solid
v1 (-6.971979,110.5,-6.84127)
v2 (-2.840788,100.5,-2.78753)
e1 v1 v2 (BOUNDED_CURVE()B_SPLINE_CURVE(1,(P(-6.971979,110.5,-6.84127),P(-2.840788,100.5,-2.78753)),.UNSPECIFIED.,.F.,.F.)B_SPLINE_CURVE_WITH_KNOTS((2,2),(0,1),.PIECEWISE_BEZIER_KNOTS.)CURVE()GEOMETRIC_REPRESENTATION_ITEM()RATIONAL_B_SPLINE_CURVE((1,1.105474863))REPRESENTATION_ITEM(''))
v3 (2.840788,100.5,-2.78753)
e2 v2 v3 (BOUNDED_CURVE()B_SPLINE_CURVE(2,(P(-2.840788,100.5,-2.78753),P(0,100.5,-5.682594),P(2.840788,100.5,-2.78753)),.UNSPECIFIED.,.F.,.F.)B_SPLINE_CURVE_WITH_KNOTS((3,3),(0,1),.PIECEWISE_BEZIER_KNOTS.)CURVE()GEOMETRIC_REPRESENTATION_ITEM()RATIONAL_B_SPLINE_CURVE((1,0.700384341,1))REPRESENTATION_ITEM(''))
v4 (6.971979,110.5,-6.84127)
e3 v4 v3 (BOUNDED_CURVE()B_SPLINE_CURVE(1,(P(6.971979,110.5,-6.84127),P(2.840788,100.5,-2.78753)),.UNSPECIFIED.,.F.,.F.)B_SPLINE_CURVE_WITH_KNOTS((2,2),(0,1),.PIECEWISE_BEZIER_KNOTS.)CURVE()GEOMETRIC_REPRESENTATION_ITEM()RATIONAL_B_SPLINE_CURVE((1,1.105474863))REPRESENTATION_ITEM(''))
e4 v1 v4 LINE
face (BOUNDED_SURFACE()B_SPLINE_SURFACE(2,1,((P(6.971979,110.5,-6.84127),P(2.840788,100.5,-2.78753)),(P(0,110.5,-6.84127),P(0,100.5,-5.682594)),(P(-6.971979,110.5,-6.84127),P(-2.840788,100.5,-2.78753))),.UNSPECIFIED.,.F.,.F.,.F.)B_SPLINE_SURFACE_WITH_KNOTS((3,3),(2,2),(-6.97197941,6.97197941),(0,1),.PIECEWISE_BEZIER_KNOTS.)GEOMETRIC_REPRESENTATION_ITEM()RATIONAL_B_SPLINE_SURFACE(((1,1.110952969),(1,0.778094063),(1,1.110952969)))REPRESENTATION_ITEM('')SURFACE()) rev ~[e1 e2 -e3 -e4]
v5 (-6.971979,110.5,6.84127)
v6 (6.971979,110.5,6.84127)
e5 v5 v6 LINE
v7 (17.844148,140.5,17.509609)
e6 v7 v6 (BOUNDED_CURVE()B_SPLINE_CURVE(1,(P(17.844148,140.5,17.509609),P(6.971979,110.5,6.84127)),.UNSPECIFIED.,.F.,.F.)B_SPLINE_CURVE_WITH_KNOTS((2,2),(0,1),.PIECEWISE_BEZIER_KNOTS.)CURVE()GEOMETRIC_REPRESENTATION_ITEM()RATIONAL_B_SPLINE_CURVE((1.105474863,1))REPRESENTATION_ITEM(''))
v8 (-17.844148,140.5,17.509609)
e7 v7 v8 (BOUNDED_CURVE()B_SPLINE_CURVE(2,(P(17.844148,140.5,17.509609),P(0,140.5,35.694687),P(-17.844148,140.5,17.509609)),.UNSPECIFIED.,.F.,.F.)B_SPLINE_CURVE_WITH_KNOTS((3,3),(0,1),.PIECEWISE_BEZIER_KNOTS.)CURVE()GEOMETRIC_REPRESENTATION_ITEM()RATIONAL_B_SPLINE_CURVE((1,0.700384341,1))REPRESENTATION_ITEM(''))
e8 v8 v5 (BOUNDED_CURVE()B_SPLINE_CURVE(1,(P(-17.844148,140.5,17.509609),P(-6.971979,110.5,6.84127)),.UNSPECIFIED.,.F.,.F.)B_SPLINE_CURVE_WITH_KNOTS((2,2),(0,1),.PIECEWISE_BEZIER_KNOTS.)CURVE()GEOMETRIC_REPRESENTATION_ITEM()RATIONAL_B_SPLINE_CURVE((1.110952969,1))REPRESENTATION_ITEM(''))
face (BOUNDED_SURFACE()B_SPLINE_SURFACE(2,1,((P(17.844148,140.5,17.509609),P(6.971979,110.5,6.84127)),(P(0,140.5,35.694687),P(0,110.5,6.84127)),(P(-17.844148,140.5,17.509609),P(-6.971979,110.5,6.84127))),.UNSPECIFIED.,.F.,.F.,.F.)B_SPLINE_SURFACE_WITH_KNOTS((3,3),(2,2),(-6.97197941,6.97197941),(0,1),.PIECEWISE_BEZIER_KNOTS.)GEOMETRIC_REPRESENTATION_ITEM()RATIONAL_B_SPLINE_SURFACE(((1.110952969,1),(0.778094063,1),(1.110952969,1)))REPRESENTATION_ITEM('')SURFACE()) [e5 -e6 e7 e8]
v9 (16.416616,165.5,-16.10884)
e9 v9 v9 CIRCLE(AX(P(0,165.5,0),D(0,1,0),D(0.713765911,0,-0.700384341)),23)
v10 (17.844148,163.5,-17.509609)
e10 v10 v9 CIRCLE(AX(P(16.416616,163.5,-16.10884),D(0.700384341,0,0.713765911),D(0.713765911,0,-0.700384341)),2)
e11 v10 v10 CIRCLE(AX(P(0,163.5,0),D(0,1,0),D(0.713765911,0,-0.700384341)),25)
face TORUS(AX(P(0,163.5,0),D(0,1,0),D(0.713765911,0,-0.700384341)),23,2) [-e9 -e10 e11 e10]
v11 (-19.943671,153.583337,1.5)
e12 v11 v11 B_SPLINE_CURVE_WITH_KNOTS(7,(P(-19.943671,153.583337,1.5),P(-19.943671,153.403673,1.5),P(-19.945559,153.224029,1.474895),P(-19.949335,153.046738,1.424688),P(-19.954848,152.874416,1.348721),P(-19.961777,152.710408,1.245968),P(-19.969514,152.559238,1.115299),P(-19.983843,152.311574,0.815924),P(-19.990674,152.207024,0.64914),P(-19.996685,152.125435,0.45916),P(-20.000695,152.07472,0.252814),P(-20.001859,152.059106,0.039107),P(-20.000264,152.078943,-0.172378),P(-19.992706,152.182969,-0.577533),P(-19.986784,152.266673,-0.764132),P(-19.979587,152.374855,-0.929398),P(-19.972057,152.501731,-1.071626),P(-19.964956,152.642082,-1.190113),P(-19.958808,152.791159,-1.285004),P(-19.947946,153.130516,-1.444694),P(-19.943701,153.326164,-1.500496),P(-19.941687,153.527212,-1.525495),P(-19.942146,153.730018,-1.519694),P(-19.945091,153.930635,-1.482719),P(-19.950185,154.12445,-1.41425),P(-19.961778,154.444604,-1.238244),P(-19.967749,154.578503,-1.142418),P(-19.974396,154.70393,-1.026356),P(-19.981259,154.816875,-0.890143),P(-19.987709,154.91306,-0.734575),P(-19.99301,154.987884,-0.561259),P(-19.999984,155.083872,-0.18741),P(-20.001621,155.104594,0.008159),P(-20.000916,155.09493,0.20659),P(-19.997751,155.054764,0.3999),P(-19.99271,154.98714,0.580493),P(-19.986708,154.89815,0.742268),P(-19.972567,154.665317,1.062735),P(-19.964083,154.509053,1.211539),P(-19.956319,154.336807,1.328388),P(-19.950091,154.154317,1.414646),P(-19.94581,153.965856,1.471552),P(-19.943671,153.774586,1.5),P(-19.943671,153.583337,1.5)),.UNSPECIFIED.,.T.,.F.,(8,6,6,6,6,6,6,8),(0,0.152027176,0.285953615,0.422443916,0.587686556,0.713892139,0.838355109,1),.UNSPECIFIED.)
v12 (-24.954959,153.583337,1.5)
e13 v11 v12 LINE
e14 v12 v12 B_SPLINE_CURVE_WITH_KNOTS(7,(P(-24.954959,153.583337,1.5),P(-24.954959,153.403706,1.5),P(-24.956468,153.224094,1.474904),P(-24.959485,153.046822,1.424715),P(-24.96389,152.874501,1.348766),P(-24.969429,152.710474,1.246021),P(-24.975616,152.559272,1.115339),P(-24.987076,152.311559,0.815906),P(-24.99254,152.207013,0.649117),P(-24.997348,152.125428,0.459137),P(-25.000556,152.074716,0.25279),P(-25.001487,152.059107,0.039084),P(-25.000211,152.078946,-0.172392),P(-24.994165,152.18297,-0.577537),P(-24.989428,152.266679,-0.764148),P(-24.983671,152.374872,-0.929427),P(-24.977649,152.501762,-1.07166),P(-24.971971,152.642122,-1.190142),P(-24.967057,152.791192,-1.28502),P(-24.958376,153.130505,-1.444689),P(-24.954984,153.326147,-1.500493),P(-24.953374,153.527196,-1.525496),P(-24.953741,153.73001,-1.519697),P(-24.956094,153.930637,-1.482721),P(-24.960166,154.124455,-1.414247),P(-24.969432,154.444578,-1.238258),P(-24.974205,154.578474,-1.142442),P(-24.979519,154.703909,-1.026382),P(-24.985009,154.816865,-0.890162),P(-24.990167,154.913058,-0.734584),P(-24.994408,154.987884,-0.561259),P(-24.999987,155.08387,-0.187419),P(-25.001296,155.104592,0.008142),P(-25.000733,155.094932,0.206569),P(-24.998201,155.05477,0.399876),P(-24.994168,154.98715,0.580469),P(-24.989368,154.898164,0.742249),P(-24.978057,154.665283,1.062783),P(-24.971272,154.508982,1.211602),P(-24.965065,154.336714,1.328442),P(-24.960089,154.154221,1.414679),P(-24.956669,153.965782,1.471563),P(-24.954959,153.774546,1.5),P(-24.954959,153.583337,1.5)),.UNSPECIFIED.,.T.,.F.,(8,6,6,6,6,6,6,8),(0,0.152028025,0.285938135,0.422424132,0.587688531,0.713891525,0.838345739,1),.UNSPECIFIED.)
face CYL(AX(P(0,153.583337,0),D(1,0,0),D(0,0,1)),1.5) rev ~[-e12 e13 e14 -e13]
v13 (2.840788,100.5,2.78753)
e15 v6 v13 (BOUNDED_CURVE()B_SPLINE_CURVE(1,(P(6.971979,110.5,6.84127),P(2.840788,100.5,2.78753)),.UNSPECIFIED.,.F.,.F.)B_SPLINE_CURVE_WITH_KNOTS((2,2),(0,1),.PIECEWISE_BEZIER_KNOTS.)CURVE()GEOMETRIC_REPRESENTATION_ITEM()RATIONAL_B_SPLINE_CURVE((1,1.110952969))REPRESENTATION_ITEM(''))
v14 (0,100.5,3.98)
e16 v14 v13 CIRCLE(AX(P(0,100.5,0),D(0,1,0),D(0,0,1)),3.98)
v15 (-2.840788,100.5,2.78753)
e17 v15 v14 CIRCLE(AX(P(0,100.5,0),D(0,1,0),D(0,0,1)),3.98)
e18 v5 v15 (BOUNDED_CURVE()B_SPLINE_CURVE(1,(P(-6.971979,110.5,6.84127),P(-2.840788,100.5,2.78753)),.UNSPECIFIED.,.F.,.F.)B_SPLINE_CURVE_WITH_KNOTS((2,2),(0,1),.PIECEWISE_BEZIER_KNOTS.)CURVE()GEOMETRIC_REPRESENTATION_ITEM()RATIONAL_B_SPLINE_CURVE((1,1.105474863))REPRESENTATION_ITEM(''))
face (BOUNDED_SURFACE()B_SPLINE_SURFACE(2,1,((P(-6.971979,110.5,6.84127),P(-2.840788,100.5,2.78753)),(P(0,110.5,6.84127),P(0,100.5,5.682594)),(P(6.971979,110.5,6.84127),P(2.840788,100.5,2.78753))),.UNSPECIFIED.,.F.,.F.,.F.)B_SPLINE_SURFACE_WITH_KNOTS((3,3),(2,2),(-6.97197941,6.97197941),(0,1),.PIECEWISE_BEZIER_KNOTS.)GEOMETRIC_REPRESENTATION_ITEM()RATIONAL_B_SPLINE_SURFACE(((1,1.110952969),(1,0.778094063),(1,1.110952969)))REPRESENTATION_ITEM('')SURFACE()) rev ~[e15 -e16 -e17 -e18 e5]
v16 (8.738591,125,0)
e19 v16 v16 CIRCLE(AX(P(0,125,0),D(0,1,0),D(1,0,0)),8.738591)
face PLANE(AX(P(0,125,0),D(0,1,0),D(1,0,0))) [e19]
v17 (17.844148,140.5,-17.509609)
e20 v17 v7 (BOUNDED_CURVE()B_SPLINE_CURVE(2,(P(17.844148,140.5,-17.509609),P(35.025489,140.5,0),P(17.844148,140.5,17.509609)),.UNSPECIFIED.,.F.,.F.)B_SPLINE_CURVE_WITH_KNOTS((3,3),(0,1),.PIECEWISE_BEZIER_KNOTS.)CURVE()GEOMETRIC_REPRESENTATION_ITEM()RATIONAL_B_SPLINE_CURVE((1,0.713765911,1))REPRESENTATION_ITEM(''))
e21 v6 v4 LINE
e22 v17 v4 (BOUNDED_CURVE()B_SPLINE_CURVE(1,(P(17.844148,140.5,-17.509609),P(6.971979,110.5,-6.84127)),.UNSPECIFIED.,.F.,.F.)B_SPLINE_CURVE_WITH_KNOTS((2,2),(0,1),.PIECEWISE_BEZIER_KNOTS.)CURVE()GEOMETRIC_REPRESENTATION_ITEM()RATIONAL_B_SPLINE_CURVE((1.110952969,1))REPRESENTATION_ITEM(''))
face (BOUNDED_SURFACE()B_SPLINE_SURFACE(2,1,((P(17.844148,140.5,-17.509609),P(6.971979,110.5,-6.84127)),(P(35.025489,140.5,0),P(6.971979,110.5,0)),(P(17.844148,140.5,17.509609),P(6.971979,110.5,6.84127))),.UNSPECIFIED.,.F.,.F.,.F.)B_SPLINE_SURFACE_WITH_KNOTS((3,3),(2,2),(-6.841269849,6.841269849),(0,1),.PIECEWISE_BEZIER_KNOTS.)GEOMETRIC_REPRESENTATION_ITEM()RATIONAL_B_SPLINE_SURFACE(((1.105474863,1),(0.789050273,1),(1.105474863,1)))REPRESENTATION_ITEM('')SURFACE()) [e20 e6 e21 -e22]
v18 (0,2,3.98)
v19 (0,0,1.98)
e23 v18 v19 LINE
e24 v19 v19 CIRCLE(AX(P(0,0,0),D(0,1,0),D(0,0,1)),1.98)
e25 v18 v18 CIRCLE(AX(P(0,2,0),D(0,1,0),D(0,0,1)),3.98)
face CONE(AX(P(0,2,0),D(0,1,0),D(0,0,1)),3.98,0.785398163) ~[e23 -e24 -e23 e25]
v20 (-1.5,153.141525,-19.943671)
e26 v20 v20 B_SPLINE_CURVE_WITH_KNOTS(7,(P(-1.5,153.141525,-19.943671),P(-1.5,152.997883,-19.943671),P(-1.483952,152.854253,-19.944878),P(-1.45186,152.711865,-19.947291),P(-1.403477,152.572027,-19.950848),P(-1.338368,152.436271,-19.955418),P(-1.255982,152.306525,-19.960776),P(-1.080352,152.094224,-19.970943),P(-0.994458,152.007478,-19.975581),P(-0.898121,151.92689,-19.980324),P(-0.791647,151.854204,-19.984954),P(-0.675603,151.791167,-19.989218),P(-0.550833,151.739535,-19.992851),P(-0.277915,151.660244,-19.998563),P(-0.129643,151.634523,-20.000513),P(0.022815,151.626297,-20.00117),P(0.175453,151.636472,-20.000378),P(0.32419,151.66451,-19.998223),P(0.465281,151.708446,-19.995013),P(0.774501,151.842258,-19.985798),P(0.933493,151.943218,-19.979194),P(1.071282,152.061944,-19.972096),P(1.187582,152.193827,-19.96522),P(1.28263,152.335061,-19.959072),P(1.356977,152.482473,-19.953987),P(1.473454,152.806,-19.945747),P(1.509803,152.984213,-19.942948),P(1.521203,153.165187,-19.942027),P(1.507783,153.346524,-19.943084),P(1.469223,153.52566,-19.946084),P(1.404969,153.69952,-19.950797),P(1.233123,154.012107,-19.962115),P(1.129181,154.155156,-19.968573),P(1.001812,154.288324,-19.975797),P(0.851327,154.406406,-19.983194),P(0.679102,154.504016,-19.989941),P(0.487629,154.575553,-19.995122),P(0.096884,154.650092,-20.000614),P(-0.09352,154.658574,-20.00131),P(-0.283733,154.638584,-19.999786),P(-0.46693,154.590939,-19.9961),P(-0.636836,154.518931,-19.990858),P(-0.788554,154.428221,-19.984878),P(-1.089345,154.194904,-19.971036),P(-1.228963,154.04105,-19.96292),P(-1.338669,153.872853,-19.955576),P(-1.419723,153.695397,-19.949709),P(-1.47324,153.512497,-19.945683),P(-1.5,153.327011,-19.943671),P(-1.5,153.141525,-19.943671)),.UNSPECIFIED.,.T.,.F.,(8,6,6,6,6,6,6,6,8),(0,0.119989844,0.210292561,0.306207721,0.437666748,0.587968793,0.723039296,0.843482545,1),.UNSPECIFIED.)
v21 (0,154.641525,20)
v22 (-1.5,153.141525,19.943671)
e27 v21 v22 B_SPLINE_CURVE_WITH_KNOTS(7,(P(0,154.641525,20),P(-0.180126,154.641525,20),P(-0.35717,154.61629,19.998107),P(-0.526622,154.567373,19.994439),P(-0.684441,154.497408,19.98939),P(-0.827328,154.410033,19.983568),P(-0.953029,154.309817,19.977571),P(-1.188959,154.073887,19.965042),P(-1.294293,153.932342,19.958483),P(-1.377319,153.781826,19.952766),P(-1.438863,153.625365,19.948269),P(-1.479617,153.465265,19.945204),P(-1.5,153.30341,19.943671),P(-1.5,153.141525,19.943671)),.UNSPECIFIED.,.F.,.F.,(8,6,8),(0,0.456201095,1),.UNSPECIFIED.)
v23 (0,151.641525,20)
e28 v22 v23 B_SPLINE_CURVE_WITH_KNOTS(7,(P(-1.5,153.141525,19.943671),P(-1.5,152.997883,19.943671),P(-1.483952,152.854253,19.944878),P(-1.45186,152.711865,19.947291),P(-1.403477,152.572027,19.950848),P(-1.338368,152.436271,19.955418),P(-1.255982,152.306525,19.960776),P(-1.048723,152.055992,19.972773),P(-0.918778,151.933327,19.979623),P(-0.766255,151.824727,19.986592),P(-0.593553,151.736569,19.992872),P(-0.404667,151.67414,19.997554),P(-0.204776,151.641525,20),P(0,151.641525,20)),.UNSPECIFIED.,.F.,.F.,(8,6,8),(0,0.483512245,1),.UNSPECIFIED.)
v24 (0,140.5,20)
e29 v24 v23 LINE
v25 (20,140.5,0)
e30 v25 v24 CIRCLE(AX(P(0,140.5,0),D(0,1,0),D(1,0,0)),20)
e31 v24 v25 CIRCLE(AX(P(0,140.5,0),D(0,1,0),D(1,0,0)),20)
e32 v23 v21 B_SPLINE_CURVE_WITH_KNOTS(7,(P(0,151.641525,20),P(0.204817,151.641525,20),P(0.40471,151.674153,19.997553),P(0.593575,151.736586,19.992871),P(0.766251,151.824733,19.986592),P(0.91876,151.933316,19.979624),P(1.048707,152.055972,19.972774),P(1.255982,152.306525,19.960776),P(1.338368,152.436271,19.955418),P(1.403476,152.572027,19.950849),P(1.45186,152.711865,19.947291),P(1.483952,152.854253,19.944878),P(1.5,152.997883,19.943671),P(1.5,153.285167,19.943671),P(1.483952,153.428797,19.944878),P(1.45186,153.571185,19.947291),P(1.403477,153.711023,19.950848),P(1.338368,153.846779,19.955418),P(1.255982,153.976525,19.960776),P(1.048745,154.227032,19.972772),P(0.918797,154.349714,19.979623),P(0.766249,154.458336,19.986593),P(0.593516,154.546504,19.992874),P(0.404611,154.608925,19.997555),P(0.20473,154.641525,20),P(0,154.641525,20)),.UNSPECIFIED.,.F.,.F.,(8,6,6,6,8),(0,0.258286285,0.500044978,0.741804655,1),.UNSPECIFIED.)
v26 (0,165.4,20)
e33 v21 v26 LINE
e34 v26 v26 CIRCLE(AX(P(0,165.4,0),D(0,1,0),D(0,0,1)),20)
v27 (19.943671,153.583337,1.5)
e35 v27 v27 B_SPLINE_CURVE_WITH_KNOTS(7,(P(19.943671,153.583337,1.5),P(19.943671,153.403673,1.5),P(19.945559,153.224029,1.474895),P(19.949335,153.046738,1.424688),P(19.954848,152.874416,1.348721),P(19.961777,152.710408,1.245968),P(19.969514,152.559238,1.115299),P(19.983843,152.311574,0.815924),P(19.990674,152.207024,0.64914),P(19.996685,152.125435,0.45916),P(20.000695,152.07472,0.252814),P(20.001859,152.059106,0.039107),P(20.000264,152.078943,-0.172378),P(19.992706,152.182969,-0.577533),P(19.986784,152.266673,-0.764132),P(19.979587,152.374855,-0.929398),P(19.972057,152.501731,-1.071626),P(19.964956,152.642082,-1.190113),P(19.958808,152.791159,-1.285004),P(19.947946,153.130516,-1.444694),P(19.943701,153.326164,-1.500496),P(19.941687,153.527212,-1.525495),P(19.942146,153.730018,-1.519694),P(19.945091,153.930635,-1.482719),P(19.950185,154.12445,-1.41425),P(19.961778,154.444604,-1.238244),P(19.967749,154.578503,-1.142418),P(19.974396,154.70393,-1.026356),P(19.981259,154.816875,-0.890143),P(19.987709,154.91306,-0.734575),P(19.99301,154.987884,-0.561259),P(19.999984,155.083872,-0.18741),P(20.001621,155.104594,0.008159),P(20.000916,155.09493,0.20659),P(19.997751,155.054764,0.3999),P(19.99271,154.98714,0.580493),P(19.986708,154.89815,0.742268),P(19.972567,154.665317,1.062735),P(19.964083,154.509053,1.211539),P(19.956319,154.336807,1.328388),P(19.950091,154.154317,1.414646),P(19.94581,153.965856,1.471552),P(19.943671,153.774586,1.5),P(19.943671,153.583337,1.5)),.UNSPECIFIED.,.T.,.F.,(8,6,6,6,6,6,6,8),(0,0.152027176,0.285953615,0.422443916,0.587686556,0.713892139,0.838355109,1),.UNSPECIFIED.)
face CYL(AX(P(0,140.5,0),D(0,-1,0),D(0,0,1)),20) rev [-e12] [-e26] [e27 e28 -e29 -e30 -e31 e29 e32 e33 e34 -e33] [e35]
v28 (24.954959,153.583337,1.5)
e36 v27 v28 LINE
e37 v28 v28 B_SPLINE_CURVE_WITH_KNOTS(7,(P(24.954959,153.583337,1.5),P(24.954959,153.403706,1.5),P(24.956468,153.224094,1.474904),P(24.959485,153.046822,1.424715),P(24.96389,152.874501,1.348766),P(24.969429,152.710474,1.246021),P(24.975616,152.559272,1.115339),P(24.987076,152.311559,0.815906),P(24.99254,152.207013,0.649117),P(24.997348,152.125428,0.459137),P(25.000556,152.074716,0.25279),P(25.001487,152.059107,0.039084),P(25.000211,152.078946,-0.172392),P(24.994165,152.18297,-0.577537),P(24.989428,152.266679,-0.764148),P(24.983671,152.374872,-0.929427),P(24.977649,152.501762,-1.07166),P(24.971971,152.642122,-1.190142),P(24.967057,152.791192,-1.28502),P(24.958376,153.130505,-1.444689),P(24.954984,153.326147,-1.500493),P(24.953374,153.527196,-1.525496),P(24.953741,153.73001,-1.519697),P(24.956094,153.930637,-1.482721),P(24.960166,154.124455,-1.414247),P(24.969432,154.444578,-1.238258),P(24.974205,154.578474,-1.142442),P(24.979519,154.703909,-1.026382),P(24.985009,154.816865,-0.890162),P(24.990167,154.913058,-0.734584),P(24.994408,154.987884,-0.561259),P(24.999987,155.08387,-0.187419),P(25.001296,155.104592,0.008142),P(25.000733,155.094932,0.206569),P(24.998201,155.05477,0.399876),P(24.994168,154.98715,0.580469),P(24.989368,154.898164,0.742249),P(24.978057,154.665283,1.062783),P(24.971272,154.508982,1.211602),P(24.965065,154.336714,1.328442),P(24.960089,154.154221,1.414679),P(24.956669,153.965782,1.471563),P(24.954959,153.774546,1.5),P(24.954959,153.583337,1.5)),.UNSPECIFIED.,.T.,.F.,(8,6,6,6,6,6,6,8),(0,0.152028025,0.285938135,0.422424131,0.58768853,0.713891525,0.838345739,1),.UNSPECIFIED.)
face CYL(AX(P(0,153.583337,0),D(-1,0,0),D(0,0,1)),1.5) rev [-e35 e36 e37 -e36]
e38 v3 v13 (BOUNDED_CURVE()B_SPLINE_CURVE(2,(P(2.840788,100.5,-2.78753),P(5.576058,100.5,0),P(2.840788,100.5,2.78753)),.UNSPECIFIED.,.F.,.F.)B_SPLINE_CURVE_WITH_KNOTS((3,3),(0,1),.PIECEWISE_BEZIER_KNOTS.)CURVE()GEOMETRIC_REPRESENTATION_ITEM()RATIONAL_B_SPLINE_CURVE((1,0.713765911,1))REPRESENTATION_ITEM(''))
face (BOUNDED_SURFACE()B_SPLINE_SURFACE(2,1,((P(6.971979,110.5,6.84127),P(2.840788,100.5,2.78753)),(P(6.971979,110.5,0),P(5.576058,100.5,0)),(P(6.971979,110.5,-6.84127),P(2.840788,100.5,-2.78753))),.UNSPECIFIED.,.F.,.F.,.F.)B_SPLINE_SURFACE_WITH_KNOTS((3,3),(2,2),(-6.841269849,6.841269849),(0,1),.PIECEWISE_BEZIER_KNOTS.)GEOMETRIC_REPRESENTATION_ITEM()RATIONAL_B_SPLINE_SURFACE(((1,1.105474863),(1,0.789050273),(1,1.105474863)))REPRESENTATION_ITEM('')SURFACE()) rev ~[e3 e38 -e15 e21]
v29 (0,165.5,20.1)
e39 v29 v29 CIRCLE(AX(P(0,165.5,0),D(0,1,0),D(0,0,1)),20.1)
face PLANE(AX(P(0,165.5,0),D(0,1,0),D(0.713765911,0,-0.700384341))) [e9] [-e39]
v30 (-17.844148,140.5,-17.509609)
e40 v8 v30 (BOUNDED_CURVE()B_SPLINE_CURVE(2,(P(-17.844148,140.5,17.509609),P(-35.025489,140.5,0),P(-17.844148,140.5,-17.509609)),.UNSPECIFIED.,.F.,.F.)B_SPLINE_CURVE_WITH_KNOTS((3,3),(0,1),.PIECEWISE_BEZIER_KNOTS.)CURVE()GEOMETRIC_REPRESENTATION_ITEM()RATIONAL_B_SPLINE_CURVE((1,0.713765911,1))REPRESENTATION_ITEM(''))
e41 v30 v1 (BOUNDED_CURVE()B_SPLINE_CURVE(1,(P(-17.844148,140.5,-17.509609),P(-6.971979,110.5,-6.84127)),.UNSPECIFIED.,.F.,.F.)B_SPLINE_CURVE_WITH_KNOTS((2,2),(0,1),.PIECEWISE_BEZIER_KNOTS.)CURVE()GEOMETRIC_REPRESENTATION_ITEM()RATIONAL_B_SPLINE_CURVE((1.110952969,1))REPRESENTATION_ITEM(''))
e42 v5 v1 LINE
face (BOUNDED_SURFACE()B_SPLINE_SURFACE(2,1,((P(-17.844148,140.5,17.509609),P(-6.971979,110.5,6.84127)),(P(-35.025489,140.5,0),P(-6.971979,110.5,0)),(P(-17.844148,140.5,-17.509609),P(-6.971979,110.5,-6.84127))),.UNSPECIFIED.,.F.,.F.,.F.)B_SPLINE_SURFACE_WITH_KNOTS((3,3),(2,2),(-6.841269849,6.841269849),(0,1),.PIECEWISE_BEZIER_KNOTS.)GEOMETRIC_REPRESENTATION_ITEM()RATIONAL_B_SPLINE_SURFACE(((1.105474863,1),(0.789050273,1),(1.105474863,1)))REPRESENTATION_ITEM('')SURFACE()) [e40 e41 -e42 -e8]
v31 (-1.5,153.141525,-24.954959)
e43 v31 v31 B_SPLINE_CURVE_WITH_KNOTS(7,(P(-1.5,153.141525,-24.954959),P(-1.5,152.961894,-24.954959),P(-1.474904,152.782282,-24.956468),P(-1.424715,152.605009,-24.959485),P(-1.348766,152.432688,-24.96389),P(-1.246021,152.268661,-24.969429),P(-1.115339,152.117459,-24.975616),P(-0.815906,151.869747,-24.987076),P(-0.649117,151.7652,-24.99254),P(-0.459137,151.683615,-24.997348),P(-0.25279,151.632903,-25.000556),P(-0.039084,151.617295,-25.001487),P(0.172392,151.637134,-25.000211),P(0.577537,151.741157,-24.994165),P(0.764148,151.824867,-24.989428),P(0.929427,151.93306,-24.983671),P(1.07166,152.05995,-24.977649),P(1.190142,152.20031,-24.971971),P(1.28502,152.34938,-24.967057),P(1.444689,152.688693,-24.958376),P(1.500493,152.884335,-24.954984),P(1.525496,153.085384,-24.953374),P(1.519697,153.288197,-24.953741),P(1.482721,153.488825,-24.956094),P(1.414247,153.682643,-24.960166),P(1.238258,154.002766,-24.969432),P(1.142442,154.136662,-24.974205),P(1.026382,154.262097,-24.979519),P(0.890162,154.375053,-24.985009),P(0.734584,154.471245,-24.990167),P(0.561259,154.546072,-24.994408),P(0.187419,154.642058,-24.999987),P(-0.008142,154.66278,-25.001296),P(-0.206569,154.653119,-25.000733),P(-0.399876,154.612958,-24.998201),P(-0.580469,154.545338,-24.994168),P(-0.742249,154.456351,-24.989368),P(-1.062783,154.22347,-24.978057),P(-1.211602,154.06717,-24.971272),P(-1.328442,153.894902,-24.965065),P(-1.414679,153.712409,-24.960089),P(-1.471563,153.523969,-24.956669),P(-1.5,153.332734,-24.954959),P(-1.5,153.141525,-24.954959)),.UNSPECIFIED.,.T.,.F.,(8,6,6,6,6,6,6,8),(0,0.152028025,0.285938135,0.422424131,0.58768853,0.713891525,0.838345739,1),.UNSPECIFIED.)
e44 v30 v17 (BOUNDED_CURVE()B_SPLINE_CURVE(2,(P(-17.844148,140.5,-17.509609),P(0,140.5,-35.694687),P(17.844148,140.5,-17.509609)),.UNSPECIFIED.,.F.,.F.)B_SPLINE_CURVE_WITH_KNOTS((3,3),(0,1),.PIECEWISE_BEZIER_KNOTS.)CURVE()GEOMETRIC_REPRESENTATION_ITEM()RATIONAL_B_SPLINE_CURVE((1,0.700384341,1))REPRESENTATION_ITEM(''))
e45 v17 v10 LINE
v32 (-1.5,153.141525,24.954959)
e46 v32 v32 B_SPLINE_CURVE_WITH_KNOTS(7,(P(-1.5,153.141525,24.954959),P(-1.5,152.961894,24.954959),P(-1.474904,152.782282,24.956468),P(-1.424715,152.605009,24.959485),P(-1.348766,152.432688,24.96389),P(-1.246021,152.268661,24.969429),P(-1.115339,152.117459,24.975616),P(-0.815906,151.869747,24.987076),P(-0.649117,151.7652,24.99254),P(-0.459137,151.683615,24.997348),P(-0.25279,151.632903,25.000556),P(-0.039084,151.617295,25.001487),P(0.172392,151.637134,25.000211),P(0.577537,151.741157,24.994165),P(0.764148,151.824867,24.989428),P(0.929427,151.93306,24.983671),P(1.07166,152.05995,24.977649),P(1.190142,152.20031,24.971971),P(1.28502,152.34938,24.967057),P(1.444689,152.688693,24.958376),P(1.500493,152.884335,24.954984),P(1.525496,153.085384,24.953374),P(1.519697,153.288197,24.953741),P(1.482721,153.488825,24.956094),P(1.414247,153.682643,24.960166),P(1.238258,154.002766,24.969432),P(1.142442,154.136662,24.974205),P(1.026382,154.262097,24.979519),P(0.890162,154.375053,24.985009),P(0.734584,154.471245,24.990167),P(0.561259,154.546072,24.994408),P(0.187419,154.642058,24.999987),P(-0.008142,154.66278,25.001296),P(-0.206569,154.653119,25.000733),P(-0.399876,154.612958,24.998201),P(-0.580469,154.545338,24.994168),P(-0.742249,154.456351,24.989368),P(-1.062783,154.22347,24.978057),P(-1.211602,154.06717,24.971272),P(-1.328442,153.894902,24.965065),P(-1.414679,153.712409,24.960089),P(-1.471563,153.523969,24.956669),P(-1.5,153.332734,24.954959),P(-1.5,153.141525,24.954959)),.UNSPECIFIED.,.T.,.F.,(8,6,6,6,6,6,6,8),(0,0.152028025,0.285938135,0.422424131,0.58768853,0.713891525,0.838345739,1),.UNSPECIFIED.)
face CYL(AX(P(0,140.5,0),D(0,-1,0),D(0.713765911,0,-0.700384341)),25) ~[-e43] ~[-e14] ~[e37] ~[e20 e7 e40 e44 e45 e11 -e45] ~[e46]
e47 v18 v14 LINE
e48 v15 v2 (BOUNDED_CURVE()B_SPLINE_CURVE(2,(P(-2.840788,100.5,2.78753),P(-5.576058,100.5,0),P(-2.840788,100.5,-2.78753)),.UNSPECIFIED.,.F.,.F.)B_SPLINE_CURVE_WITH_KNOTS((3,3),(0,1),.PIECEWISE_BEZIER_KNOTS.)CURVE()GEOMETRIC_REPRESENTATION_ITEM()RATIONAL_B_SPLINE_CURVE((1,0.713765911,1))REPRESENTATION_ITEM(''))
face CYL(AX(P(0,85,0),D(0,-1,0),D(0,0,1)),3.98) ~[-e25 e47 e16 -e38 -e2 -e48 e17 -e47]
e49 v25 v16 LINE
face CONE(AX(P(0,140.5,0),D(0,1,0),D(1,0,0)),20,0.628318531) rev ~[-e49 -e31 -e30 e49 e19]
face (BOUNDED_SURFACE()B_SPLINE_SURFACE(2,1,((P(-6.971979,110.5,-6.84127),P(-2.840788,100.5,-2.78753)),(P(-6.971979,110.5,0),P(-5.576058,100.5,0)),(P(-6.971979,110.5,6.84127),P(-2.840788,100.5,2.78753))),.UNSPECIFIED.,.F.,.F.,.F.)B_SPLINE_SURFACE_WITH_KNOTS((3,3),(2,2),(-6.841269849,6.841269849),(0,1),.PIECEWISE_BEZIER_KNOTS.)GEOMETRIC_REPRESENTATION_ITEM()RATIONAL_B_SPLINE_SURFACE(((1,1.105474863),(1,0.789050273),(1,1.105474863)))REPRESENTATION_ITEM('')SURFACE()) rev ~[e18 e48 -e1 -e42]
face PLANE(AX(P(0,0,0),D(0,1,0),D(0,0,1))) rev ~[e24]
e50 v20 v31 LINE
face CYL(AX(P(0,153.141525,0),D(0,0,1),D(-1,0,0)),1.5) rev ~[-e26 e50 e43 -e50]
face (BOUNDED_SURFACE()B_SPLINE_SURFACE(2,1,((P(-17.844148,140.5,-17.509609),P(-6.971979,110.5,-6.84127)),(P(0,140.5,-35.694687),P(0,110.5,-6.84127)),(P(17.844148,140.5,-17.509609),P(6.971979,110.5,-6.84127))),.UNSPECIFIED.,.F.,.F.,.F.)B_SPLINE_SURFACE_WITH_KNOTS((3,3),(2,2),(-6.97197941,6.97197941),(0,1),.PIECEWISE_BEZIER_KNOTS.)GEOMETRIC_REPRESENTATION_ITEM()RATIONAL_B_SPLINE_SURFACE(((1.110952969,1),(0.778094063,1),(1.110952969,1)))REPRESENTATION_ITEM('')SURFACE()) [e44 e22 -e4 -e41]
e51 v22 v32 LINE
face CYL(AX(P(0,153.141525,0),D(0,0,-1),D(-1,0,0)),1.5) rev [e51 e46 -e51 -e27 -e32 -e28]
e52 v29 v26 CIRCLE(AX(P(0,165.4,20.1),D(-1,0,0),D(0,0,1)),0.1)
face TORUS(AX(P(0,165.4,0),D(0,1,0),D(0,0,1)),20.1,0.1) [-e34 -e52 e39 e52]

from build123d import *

# Parameters (mm, degrees)
SKETCH1_R               = 3.98
BOSS_EXTRUDE1_DEPTH     = 85
SKETCH2_R               = 3.98
BOSS_EXTRUDE2_DEPTH     = 15.5
SKETCH8_R               = 20
CUT_EXTRUDE2_DEPTH      = 15.5
CUT_EXTRUDE2_DRAFT      = -36
SKETCH9_R               = 25
SKETCH9_R_2             = 20
BOSS_EXTRUDE3_DEPTH     = 25
CUT_EXTRUDE3_DEPTH      = 30
CUT_EXTRUDE3_DEPTH_BACK = 30
SKETCH11_R              = 1.5
CUT_EXTRUDE4_DEPTH      = 30
CUT_EXTRUDE4_DEPTH_BACK = 30
SKETCH12_R              = 1.5
FILLET2_R               = 2
FILLET3_R               = 0.1
CHAMFER1_SIZE           = 2


with BuildPart() as part:
    # Sketch1 → Boss-Extrude1 (new body)
    with BuildSketch(Plane(origin=(0, 0, 0), x_dir=(1, 0, 0), z_dir=(0, 1, 0))):
        Circle(SKETCH1_R)
    extrude(amount=BOSS_EXTRUDE1_DEPTH)

    # Sketch2 → Boss-Extrude2 (add)
    with BuildSketch(Plane(origin=(0, 85, 0), x_dir=(1, 0, 0), z_dir=(0, 1, 0))):
        Circle(SKETCH2_R)
    extrude(amount=BOSS_EXTRUDE2_DEPTH)

    # Sketch5 → Loft1 section 0
    with BuildSketch(Plane(origin=(0, 110.5, 0), x_dir=(1, 0, 0), z_dir=(0, 1, 0))):
        with BuildLine():
            Line((-6.97197941, 6.841269849), (6.97197941, 6.841269849))
            Line((6.97197941, 6.841269849), (6.97197941, -6.841269849))
            Line((6.97197941, -6.841269849), (-6.97197941, -6.841269849))
            Line((-6.97197941, -6.841269849), (-6.97197941, 6.841269849))
        make_face()
    # Sketch4 for Loft1 → Loft1 section 1
    with BuildSketch(Plane(origin=(0, 100.5, 0), x_dir=(1, 0, 0), z_dir=(0, 1, 0))):
        with BuildLine():
            # circular arc as an exact rational Bezier (weights 1, cos(half-angle), 1)
            Bezier((-2.840788324, 2.787529677), (0, 5.682594209), (2.840788324, 2.787529677), weights=[1, 0.700384341, 1])
            Bezier((2.840788324, 2.787529677), (5.576057838, 0), (2.840788324, -2.787529677), weights=[1, 0.713765911, 1])
            Bezier((2.840788324, -2.787529677), (0, -5.682594209), (-2.840788324, -2.787529677), weights=[1, 0.700384341, 1])
            Bezier((-2.840788324, -2.787529677), (-5.576057838, 0), (-2.840788324, 2.787529677), weights=[1, 0.713765911, 1])
        make_face()
    loft()

    # Sketch6 for Loft2 → Loft2 section 0
    with BuildSketch(Plane(origin=(0, 140.5, 0), x_dir=(1, 0, 0), z_dir=(0, 1, 0))):
        with BuildLine():
            Bezier((-17.844147765, 17.509608521), (0, 35.694687248), (17.844147765, 17.509608521), weights=[1, 0.700384341, 1])
            Bezier((17.844147765, 17.509608521), (35.025488929, 0), (17.844147765, -17.509608521), weights=[1, 0.713765911, 1])
            Bezier((17.844147765, -17.509608521), (0, -35.694687248), (-17.844147765, -17.509608521), weights=[1, 0.700384341, 1])
            Bezier((-17.844147765, -17.509608521), (-35.025488929, 0), (-17.844147765, 17.509608521), weights=[1, 0.713765911, 1])
        make_face()
    # Sketch7 → Loft2 section 1
    with BuildSketch(Plane(origin=(0, 110.5, 0), x_dir=(1, 0, 0), z_dir=(0, 1, 0))):
        with BuildLine():
            Line((-6.97197941, 6.841269849), (6.97197941, 6.841269849))
            Line((6.97197941, 6.841269849), (6.97197941, -6.841269849))
            Line((6.97197941, -6.841269849), (-6.97197941, -6.841269849))
            Line((-6.97197941, -6.841269849), (-6.97197941, 6.841269849))
        make_face()
    loft()


with BuildPart() as cut_extrude2_tool:
    # Sketch8 → Cut-Extrude2 (with draft: the straight prism first)
    with BuildSketch(Plane(origin=(0, 140.5, 0), x_dir=(1, 0, 0), z_dir=(0, 1, 0))):
        Circle(SKETCH8_R)
    extrude(amount=-CUT_EXTRUDE2_DEPTH)
    # Cut-Extrude2: the draft: its side faces are tilted about the plane it starts from
    cut_extrude2_sides = [cut_extrude2_tool.faces().sort_by_distance(p)[0] for p in [
        (-20, 132.75, 0),
    ]]
    draft(cut_extrude2_sides, Plane(origin=(0, 140.5, 0), x_dir=(1, 0, 0), z_dir=(0, 1, 0)), CUT_EXTRUDE2_DRAFT)


with BuildPart() as part_1:
    add(part.part)

    # Cut-Extrude2: cut by cut_extrude2_tool
    add(cut_extrude2_tool.part, mode=Mode.SUBTRACT)

    # Sketch9 → Boss-Extrude3 (add)
    with BuildSketch(Plane(origin=(0, 140.5, 0), x_dir=(1, 0, 0), z_dir=(0, 1, 0))):
        Circle(SKETCH9_R)
        Circle(SKETCH9_R_2, mode=Mode.SUBTRACT)
    extrude(amount=BOSS_EXTRUDE3_DEPTH)

    # Sketch11 → Cut-Extrude3 (cut, two sides: drawn at the far end of the back side and taken through both)
    with BuildSketch(Plane(origin=(0, 0, 0), x_dir=(0, 0, -1), z_dir=(1, 0, 0)).offset(-CUT_EXTRUDE3_DEPTH_BACK)):
        with Locations((0, 153.583337253)):
            Circle(SKETCH11_R)
    extrude(amount=CUT_EXTRUDE3_DEPTH + CUT_EXTRUDE3_DEPTH_BACK, mode=Mode.SUBTRACT)

    # Sketch12 → Cut-Extrude4 (cut, two sides: drawn at the far end of the back side and taken through both)
    with BuildSketch(Plane.XY.offset(-CUT_EXTRUDE4_DEPTH_BACK)):
        with Locations((0, 153.141524967)):
            Circle(SKETCH12_R)
    extrude(amount=CUT_EXTRUDE4_DEPTH + CUT_EXTRUDE4_DEPTH_BACK, mode=Mode.SUBTRACT)

    # Fillet2
    fillet2_edges = [part_1.edges().sort_by_distance(p)[0] for p in [
        (-25, 165.5, 0),
    ]]
    fillet(fillet2_edges, radius=FILLET2_R)

    # Fillet3
    fillet3_edges = [part_1.edges().sort_by_distance(p)[0] for p in [
        (-20, 165.5, 0),
    ]]
    fillet(fillet3_edges, radius=FILLET3_R)

    # Chamfer1
    chamfer1_edges = [part_1.edges().sort_by_distance(p)[0] for p in [
        (-3.98, 0, 0),
    ]]
    chamfer(chamfer1_edges, length=CHAMFER1_SIZE)


solid = part_1.part
